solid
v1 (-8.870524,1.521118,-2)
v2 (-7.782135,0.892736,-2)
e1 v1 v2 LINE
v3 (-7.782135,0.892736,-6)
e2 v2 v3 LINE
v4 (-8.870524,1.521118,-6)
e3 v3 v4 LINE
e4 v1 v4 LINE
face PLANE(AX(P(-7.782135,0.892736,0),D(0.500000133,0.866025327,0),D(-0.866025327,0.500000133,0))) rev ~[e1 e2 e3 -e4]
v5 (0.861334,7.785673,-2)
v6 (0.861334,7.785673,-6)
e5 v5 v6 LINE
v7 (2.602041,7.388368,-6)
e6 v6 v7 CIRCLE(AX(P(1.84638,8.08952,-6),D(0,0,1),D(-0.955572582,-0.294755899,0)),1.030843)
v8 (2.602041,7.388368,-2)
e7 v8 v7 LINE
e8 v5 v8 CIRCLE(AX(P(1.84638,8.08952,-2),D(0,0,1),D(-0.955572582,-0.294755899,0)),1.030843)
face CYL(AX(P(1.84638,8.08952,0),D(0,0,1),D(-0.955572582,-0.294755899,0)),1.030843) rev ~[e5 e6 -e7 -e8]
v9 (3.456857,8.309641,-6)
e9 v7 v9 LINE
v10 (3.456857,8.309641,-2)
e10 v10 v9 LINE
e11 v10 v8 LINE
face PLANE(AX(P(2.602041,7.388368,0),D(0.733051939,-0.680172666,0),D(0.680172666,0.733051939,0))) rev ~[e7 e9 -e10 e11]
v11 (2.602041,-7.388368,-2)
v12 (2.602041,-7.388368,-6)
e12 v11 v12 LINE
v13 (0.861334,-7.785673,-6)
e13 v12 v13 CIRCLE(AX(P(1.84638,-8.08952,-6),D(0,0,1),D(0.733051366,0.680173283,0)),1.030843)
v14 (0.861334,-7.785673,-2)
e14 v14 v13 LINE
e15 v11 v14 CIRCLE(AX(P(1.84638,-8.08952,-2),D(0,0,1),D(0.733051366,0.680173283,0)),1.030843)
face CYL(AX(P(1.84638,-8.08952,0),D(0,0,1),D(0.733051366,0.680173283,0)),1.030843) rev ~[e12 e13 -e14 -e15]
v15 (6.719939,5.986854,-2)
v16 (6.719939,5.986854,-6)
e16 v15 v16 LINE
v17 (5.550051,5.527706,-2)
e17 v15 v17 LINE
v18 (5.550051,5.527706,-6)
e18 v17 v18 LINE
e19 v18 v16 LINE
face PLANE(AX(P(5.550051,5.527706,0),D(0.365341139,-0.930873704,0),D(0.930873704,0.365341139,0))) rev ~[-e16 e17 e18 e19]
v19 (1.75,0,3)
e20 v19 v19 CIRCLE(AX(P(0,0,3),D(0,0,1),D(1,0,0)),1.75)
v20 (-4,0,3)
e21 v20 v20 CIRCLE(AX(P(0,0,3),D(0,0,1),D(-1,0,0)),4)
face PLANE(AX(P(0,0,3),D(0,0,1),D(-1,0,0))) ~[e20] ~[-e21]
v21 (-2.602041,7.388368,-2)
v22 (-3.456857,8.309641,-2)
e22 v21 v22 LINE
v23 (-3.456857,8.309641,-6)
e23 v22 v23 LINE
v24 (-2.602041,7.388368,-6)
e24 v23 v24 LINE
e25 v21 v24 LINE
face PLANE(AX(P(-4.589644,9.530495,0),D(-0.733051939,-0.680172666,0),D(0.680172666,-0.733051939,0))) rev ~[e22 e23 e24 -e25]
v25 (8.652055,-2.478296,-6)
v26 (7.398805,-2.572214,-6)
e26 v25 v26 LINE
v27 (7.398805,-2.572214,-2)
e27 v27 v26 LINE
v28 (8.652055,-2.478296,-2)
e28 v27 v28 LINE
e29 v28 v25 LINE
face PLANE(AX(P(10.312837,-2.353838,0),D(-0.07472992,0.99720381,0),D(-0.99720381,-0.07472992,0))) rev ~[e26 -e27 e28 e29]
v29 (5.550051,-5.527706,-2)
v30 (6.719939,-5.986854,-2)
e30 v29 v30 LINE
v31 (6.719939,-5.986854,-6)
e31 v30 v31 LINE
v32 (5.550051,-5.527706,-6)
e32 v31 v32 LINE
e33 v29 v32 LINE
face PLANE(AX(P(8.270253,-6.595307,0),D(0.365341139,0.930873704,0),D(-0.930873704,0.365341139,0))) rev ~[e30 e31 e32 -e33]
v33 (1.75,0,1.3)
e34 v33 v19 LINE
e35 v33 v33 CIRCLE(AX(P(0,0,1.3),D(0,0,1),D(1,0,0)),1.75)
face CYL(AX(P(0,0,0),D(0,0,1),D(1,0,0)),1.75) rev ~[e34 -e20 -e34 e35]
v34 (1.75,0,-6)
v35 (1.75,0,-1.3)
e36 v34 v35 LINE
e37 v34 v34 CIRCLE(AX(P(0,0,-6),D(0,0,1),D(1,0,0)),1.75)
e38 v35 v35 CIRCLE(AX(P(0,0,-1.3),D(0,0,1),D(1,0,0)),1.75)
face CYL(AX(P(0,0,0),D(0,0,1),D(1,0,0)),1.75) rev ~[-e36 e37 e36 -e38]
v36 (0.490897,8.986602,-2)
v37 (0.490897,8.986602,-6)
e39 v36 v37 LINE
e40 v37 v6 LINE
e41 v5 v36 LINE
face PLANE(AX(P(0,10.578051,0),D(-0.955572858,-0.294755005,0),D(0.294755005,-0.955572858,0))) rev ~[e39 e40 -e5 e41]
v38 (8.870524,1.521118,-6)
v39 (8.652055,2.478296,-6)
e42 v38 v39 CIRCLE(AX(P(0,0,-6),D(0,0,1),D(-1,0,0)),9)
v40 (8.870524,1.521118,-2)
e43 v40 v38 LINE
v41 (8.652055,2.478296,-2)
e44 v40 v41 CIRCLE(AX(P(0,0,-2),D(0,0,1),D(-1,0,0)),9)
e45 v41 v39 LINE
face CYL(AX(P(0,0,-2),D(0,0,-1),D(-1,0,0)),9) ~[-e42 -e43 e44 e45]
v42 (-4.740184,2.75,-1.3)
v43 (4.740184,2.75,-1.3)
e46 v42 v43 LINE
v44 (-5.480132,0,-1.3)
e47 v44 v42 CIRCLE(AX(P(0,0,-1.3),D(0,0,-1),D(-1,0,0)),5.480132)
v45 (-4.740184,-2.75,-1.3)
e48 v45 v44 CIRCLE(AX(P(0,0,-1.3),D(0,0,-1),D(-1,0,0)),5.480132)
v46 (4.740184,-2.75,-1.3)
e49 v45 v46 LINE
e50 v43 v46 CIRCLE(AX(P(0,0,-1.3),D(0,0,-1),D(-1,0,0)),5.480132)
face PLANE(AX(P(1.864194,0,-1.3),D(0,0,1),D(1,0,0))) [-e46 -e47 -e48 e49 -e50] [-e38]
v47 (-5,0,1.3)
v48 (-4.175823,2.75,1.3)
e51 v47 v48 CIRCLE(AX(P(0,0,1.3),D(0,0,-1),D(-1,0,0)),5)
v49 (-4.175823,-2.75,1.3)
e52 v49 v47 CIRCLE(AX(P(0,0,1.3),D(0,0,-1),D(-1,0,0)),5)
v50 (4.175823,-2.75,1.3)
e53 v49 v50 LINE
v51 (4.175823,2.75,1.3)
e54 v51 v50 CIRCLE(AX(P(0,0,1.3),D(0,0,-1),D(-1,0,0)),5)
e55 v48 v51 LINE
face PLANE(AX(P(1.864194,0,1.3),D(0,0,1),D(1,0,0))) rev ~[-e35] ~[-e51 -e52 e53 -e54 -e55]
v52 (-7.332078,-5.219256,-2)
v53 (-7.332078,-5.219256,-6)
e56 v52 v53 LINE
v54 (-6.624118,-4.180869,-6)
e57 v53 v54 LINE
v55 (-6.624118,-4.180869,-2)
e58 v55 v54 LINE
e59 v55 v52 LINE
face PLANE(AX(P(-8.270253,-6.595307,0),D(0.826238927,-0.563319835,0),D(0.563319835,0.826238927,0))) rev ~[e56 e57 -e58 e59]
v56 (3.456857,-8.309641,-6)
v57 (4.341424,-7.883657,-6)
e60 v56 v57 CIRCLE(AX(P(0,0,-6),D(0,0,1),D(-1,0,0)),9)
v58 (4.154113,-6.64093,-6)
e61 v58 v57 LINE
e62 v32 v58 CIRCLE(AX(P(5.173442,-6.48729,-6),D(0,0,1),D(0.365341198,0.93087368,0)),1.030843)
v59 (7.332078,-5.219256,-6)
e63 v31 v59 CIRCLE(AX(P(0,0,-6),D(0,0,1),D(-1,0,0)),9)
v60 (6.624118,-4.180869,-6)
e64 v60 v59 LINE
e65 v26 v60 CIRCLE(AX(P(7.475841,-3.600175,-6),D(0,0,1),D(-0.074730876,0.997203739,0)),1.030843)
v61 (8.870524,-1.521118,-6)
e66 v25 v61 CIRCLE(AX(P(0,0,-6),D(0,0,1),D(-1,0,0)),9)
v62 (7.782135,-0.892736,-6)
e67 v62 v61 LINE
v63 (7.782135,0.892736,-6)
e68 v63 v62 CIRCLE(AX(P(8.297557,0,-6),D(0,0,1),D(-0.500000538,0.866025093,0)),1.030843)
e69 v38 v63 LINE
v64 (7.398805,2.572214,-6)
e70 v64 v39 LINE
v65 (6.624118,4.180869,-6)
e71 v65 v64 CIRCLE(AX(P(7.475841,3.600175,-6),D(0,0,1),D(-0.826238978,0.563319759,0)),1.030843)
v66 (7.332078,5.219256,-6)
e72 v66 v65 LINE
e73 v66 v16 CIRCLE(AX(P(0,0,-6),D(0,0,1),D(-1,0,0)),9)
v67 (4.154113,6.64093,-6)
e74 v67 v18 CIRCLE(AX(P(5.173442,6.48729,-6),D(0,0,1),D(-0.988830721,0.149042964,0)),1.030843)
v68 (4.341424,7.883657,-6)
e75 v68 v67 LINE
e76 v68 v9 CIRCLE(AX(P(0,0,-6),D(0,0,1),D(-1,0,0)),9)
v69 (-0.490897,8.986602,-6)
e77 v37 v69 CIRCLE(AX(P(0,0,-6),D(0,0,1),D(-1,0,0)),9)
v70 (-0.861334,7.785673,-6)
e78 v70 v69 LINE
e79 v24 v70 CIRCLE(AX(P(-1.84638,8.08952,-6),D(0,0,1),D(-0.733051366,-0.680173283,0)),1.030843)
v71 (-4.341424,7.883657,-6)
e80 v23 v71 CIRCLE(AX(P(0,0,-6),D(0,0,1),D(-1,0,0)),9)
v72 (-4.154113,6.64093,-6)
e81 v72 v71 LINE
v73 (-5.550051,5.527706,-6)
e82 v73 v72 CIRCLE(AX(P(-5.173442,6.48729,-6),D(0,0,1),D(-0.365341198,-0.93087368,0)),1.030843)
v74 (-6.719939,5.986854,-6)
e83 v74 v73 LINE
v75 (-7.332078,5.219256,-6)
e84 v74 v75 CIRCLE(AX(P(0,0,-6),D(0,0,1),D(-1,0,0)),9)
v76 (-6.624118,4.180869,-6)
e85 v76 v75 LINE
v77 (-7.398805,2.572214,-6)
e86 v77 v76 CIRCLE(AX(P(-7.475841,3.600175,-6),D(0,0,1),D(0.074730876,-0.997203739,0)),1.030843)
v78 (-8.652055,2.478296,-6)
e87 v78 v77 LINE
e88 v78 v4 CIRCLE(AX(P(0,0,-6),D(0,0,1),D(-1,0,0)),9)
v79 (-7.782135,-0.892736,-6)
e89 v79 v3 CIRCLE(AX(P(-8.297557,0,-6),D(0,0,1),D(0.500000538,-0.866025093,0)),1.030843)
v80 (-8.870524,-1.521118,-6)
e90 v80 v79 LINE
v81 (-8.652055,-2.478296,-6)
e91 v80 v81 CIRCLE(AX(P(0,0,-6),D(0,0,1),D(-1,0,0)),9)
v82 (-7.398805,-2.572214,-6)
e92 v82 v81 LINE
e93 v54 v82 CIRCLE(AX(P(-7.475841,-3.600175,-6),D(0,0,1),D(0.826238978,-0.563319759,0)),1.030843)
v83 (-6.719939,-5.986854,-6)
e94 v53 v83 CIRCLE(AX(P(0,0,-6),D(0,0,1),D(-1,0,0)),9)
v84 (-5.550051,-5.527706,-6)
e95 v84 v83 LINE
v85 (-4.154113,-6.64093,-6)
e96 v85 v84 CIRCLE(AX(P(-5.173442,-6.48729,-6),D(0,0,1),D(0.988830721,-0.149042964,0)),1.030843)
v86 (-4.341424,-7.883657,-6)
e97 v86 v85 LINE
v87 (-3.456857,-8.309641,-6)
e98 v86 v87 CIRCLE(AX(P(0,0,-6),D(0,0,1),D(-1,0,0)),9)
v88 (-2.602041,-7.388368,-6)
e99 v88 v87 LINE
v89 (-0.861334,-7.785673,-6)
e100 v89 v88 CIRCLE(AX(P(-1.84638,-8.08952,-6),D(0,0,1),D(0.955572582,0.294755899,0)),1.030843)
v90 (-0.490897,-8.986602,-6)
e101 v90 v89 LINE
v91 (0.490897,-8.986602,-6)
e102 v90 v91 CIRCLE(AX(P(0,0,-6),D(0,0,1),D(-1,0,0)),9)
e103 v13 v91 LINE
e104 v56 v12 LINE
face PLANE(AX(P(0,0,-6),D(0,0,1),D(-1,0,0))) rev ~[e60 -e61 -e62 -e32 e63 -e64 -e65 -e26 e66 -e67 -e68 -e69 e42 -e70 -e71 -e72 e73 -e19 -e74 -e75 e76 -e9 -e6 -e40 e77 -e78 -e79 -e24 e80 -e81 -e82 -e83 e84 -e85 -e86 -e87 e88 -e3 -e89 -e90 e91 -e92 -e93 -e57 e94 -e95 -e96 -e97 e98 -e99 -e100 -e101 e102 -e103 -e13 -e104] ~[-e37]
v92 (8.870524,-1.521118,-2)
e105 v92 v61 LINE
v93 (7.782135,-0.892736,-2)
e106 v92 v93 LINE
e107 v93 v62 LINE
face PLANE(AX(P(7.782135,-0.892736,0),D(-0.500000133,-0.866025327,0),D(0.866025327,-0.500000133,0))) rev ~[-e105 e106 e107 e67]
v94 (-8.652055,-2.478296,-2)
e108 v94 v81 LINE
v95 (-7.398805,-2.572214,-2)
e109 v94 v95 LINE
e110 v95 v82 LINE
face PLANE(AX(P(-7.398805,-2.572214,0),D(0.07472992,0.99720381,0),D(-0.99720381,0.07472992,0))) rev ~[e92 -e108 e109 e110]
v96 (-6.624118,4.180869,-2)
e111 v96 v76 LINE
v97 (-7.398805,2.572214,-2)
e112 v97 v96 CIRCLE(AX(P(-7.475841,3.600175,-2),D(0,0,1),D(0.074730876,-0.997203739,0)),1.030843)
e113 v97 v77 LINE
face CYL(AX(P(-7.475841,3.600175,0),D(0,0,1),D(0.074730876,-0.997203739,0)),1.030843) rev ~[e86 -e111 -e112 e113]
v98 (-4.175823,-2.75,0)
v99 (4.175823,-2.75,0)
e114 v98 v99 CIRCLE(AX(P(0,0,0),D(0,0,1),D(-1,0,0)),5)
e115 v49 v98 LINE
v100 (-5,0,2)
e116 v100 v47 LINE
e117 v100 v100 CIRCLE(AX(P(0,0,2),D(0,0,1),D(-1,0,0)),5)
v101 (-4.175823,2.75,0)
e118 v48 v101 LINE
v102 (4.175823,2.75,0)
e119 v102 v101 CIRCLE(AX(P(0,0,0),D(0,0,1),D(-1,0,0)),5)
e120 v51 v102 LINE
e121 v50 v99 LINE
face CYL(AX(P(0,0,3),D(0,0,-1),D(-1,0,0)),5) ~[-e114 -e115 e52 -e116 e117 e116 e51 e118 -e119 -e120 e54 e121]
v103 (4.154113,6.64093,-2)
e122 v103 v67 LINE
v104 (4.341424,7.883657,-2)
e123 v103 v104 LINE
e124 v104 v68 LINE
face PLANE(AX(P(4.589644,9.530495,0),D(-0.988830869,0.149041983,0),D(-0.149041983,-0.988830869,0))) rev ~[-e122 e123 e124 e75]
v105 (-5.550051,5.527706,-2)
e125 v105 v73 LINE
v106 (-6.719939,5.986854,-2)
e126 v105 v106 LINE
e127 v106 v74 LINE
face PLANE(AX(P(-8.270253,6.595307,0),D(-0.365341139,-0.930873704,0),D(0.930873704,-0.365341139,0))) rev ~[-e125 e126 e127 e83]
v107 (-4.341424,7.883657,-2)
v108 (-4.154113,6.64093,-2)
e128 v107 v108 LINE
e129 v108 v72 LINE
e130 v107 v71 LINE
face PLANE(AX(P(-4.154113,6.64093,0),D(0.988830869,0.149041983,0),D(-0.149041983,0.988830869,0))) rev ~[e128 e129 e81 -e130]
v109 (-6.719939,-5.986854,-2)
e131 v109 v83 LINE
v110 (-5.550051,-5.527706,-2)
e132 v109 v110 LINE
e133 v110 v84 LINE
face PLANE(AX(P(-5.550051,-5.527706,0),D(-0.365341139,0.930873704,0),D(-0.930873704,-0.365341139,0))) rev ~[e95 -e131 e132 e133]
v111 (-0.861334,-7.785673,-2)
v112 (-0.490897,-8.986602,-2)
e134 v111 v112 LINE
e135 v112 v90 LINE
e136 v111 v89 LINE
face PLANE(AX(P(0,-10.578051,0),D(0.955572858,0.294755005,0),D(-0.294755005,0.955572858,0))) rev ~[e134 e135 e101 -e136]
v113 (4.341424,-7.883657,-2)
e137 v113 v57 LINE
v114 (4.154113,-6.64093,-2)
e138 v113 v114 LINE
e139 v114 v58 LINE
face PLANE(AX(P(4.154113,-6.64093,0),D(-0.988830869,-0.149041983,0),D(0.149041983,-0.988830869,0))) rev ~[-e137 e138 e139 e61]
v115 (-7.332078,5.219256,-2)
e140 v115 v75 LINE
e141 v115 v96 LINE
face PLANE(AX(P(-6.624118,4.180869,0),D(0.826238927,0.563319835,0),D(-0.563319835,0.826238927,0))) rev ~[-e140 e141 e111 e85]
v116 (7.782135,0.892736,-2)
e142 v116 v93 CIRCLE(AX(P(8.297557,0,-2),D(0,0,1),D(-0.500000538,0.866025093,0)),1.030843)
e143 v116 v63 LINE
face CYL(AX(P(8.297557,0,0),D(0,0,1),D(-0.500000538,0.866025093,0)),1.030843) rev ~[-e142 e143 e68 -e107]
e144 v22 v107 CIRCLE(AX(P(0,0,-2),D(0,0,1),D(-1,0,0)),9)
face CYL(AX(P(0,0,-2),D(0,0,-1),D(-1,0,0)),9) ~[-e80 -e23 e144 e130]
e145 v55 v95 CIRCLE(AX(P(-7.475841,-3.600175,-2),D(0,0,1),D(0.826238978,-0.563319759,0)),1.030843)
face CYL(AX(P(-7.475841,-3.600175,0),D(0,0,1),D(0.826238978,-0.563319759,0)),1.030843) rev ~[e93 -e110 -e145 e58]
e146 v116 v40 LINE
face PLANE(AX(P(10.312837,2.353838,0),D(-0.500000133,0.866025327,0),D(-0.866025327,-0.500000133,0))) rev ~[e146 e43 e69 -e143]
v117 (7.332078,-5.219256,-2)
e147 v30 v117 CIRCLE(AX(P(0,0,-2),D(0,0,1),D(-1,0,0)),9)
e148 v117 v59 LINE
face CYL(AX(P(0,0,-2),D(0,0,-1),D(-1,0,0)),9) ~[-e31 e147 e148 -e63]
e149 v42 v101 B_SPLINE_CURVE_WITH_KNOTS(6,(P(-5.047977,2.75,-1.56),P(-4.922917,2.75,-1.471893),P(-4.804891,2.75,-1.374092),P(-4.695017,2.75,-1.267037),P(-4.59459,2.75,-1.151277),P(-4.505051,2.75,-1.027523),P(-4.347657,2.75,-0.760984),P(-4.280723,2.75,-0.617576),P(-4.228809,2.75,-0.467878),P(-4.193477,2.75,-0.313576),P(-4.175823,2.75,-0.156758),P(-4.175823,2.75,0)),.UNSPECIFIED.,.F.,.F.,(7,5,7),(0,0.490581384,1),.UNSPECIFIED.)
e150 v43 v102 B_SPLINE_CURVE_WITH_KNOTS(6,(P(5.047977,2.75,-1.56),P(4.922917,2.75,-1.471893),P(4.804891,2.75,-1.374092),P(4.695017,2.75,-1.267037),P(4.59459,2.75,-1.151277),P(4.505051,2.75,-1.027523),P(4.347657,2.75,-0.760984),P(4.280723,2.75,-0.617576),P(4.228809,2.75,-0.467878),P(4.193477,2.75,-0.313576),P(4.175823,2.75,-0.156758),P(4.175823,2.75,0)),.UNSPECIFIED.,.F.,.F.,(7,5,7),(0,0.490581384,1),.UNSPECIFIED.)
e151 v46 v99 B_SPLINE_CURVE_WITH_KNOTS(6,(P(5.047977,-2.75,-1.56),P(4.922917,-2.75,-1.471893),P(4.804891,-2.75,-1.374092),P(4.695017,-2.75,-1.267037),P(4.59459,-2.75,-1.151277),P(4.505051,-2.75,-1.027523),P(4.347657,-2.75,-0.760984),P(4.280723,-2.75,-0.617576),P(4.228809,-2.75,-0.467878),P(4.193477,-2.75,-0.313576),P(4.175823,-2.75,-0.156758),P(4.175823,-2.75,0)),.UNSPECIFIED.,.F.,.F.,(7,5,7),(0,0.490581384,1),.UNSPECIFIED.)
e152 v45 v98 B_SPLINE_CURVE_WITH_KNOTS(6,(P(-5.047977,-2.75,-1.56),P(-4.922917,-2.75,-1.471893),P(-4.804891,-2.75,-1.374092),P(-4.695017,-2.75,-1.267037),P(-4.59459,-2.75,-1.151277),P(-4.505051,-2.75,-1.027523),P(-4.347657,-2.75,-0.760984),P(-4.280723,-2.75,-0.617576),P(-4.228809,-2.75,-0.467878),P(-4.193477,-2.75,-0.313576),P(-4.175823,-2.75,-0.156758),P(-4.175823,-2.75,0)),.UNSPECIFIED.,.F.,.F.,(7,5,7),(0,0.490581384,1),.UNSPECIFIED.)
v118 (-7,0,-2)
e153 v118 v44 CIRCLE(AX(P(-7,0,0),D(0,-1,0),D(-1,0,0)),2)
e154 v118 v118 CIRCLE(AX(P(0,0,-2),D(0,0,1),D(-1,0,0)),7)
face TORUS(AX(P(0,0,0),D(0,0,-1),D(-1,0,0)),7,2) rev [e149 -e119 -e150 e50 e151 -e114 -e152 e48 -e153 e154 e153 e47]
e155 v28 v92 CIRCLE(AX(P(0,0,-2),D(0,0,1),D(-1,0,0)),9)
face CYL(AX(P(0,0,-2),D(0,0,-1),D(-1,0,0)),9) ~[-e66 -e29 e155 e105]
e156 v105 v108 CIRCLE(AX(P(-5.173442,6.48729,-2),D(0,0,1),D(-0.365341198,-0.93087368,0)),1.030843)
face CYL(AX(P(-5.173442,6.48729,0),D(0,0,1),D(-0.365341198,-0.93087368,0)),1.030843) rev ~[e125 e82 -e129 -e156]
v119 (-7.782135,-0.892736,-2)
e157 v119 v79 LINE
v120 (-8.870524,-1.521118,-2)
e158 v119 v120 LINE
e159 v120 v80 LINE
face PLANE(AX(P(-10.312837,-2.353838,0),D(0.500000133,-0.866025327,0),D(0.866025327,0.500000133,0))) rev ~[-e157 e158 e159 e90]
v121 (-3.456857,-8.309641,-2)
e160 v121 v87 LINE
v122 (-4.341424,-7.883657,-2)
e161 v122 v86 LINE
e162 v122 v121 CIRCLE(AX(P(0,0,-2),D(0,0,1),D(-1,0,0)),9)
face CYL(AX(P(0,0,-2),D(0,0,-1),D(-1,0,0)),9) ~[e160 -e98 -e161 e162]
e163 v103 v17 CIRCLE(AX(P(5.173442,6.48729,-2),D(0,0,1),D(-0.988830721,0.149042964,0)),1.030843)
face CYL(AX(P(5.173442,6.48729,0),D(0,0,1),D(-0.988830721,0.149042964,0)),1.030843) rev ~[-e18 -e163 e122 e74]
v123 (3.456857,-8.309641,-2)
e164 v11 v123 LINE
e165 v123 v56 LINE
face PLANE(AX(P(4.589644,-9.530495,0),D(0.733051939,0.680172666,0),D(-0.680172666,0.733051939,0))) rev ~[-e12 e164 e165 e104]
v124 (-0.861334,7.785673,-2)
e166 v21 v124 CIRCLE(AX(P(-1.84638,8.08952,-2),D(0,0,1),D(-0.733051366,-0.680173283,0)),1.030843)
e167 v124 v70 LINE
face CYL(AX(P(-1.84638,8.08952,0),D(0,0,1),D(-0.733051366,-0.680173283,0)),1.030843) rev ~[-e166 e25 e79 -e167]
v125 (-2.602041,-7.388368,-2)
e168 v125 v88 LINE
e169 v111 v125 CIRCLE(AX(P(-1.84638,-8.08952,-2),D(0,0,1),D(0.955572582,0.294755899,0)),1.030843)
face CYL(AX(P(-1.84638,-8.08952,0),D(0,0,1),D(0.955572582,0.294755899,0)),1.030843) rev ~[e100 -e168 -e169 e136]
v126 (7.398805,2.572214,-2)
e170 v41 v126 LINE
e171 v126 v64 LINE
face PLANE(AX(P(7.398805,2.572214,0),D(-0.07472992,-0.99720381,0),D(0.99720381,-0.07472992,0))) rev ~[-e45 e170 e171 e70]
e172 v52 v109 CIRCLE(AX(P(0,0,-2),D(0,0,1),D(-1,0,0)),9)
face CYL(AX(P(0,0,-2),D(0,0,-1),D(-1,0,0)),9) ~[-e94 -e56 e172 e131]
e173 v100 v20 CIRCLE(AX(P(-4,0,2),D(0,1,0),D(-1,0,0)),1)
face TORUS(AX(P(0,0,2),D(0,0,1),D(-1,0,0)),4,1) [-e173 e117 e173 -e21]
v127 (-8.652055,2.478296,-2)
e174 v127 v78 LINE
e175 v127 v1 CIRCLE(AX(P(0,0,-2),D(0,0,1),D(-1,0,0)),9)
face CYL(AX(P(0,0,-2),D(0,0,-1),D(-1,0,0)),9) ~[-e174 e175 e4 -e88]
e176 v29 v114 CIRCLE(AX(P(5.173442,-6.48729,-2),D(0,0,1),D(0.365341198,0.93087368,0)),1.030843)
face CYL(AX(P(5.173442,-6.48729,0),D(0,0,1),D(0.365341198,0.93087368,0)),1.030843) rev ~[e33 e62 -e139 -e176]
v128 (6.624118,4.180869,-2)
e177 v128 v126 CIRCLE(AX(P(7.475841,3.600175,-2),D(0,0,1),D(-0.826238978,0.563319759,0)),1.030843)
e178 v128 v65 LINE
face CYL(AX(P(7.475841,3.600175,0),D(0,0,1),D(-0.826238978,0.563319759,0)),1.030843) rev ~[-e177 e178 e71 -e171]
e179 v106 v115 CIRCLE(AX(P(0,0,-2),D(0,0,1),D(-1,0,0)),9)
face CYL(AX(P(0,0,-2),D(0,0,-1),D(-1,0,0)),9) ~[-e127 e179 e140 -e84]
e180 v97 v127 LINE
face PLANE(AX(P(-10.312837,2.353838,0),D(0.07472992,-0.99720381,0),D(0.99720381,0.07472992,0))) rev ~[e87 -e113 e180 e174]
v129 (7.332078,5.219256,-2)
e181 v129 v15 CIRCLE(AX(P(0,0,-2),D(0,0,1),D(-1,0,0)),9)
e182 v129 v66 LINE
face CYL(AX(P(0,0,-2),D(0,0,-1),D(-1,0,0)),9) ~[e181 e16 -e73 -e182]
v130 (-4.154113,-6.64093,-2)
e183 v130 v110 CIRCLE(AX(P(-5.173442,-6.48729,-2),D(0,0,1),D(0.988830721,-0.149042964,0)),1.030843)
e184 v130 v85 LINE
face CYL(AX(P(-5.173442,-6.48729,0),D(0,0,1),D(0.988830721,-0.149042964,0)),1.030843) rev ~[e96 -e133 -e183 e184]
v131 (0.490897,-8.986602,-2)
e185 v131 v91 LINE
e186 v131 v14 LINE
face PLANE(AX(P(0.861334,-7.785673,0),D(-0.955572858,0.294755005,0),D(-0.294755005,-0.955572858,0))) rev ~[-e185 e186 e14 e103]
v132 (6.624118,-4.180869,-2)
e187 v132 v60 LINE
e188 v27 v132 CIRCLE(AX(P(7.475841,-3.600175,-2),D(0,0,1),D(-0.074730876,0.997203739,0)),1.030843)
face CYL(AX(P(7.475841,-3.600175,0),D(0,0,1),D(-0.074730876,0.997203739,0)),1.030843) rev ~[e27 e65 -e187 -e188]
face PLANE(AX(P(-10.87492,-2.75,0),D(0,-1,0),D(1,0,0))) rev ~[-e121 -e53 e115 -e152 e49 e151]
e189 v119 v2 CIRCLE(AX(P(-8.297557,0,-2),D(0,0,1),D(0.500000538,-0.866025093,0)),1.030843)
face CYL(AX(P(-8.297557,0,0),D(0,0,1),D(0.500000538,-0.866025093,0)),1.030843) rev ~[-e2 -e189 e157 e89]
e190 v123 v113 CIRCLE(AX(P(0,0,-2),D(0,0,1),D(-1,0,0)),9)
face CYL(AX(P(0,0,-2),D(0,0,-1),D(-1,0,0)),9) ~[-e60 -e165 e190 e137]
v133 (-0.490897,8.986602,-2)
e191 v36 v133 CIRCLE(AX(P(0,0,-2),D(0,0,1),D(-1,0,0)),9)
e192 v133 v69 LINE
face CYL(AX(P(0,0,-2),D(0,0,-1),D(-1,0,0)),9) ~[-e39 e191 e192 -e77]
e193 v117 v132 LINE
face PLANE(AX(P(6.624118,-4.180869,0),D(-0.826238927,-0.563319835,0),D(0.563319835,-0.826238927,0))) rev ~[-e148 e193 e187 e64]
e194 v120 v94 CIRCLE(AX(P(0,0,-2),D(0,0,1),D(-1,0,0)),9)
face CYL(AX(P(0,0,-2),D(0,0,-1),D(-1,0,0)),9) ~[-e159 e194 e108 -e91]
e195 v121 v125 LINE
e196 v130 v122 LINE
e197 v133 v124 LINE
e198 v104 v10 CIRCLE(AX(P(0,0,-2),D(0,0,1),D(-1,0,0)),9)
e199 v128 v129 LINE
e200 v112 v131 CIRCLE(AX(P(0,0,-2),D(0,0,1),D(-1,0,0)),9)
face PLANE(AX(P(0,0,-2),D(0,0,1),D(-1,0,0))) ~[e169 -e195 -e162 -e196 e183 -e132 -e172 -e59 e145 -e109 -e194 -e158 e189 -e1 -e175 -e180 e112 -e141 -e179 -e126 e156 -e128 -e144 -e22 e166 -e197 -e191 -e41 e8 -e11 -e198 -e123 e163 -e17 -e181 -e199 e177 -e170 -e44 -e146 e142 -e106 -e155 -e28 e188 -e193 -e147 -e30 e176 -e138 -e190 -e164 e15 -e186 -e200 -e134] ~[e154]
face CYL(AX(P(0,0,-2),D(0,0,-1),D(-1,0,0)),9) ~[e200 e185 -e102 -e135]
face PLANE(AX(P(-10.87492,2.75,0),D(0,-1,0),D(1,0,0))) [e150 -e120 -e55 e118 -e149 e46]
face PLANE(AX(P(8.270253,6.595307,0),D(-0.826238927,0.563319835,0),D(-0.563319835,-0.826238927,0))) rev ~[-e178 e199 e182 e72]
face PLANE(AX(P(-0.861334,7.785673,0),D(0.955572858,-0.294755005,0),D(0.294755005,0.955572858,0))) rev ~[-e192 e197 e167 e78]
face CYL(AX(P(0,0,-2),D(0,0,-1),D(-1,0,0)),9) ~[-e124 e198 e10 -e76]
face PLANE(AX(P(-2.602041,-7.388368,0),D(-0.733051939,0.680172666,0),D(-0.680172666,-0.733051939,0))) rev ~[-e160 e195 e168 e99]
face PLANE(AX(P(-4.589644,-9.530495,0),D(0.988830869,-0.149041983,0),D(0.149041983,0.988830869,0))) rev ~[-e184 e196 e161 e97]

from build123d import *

# Parameters (mm, degrees)
F3_R     = 1.75
F4_DEPTH = 12.5
F6_R     = 2
F8_DEPTH = 10
F2_W     = 25.478227
F2_H     = 5.5
F9_DEPTH = 1.3
F10_R    = 1


with BuildPart() as f1:
    # F0 (on Front) → F1 (revolve)
    with BuildSketch(Plane.XZ):
        Polygon((-9, -6), (0, -6), (0, 3), (-5, 3), (-5, -2), (-9, -2), align=None)
    revolve(axis=Axis((0, 0, -1.5), (0, 0, 1)))


with BuildPart() as f4:
    # F3 (on Top) → F4 (new body, symmetric)
    with BuildSketch(Plane.XY):
        Circle(F3_R)
    extrude(amount=F4_DEPTH, both=True)


with BuildPart() as f1_1:
    add(f1.part)

    # F5: cut F4
    add(f4.part, mode=Mode.SUBTRACT)

    # F6
    f6_edges = [f1_1.edges().sort_by_distance(p)[0] for p in [
        (5, 0, -2),
    ]]
    fillet(f6_edges, radius=F6_R)

    # F7 (on Top) → F8 (cut)
    with BuildSketch(Plane.XY):
        with BuildLine():
            ThreePointArc((-7.782135, -0.892736), (-7.266714, 0), (-7.782135, 0.892736))
            Line((-7.782135, 0.892736), (-10.312837, 2.353838))
            Line((-10.312837, 2.353838), (-10.499112, 2.339878))
            Line((-10.499112, 2.339878), (-10.499112, -2.339878))
            Line((-10.499112, -2.339878), (-10.312837, -2.353838))
            Line((-10.312837, -2.353838), (-7.782135, -0.892736))
        make_face()
        with BuildLine():
            Line((-10.474608, 2.447236), (-10.312837, 2.353838))
            Line((-10.312837, 2.353838), (-7.398805, 2.572214))
            ThreePointArc((-7.398805, 2.572214), (-6.547083, 3.152909), (-6.624118, 4.180869))
            Line((-6.624118, 4.180869), (-8.270253, 6.595307))
            Line((-8.270253, 6.595307), (-8.444138, 6.663552))
            Line((-8.444138, 6.663552), (-10.474608, 2.447236))
        make_face()
        Polygon((-10.499112, 2.396354), (-10.474608, 2.447236), (-10.499112, 2.461384), align=None)
        Polygon((-10.527328, 2.337764), (-10.499112, 2.339878), (-10.499112, 2.396354), align=None)
        with BuildLine():
            Line((-7.398805, -2.572214), (-10.312837, -2.353838))
            Line((-10.312837, -2.353838), (-10.474608, -2.447236))
            Line((-10.474608, -2.447236), (-8.444138, -6.663552))
            Line((-8.444138, -6.663552), (-8.270253, -6.595307))
            Line((-8.270253, -6.595307), (-6.624118, -4.180869))
            ThreePointArc((-6.624118, -4.180869), (-6.547083, -3.152909), (-7.398805, -2.572214))
        make_face()
        Polygon((-8.470477, 6.673889), (-8.444138, 6.663552), (-8.419634, 6.714434), align=None)
        Polygon((-10.499112, -2.396354), (-10.499112, -2.339878), (-10.527328, -2.337764), align=None)
        Polygon((-10.499112, -2.461384), (-10.474608, -2.447236), (-10.499112, -2.396354), align=None)
        with BuildLine():
            Line((-8.37548, 6.749646), (-8.270253, 6.595307))
            Line((-8.270253, 6.595307), (-5.550051, 5.527706))
            ThreePointArc((-5.550051, 5.527706), (-4.530722, 5.681345), (-4.154113, 6.64093))
            Line((-4.154113, 6.64093), (-4.589644, 9.530495))
            Line((-4.589644, 9.530495), (-4.716699, 9.667427))
            Line((-4.716699, 9.667427), (-8.37548, 6.749646))
        make_face()
        Polygon((-8.391419, 6.773024), (-8.419634, 6.714434), (-8.37548, 6.749646), align=None)
        Polygon((-8.419634, -6.714434), (-8.444138, -6.663552), (-8.470477, -6.673889), align=None)
        Polygon((-8.37548, -6.749646), (-8.419634, -6.714434), (-8.391419, -6.773024), align=None)
        with BuildLine():
            Line((-5.550051, -5.527706), (-8.270253, -6.595307))
            Line((-8.270253, -6.595307), (-8.37548, -6.749646))
            Line((-8.37548, -6.749646), (-4.716699, -9.667427))
            Line((-4.716699, -9.667427), (-4.589644, -9.530495))
            Line((-4.589644, -9.530495), (-4.154113, -6.64093))
            ThreePointArc((-4.154113, -6.64093), (-4.530722, -5.681345), (-5.550051, -5.527706))
        make_face()
        Polygon((-4.735944, 9.688168), (-4.716699, 9.667427), (-4.672544, 9.702639), align=None)
        with BuildLine():
            Line((-4.617485, 9.715206), (-4.589644, 9.530495))
            Line((-4.589644, 9.530495), (-2.602041, 7.388368))
            ThreePointArc((-2.602041, 7.388368), (-1.616996, 7.084522), (-0.861334, 7.785673))
            Line((-0.861334, 7.785673), (0, 10.578051))
            Line((0, 10.578051), (-0.055059, 10.756549))
            Line((-0.055059, 10.756549), (-4.617485, 9.715206))
        make_face()
        Polygon((-4.621702, 9.743184), (-4.672544, 9.702639), (-4.617485, 9.715206), align=None)
        Polygon((-4.672544, -9.702639), (-4.716699, -9.667427), (-4.735944, -9.688168), align=None)
        Polygon((-4.617485, -9.715206), (-4.672544, -9.702639), (-4.621702, -9.743184), align=None)
        with BuildLine():
            Line((-2.602041, -7.388368), (-4.589644, -9.530495))
            Line((-4.589644, -9.530495), (-4.617485, -9.715206))
            Line((-4.617485, -9.715206), (-0.055059, -10.756549))
            Line((-0.055059, -10.756549), (0, -10.578051))
            Line((0, -10.578051), (-0.861334, -7.785673))
            ThreePointArc((-0.861334, -7.785673), (-1.616996, -7.084522), (-2.602041, -7.388368))
        make_face()
        Polygon((-0.063399, 10.783587), (-0.055059, 10.756549), (0, 10.769116), align=None)
        with BuildLine():
            Line((0.055059, 10.756549), (0, 10.578051))
            Line((0, 10.578051), (0.861334, 7.785673))
            ThreePointArc((0.861334, 7.785673), (1.616996, 7.084522), (2.602041, 7.388368))
            Line((2.602041, 7.388368), (4.589644, 9.530495))
            Line((4.589644, 9.530495), (4.617485, 9.715206))
            Line((4.617485, 9.715206), (0.055059, 10.756549))
        make_face()
        Polygon((0.063399, 10.783587), (0, 10.769116), (0.055059, 10.756549), align=None)
        Polygon((0, -10.769116), (-0.055059, -10.756549), (-0.063399, -10.783587), align=None)
        Polygon((0.055059, -10.756549), (0, -10.769116), (0.063399, -10.783587), align=None)
        with BuildLine():
            Line((0.861334, -7.785673), (0, -10.578051))
            Line((0, -10.578051), (0.055059, -10.756549))
            Line((0.055059, -10.756549), (4.617485, -9.715206))
            Line((4.617485, -9.715206), (4.589644, -9.530495))
            Line((4.589644, -9.530495), (2.602041, -7.388368))
            ThreePointArc((2.602041, -7.388368), (1.616996, -7.084522), (0.861334, -7.785673))
        make_face()
        Polygon((4.621702, 9.743184), (4.617485, 9.715206), (4.672544, 9.702639), align=None)
        with BuildLine():
            Line((4.716699, 9.667427), (4.589644, 9.530495))
            Line((4.589644, 9.530495), (4.154113, 6.64093))
            ThreePointArc((4.154113, 6.64093), (4.530722, 5.681345), (5.550051, 5.527706))
            Line((5.550051, 5.527706), (8.270253, 6.595307))
            Line((8.270253, 6.595307), (8.37548, 6.749646))
            Line((8.37548, 6.749646), (4.716699, 9.667427))
        make_face()
        Polygon((4.735944, 9.688168), (4.672544, 9.702639), (4.716699, 9.667427), align=None)
        Polygon((4.672544, -9.702639), (4.617485, -9.715206), (4.621702, -9.743184), align=None)
        Polygon((4.716699, -9.667427), (4.672544, -9.702639), (4.735944, -9.688168), align=None)
        with BuildLine():
            Line((4.154113, -6.64093), (4.589644, -9.530495))
            Line((4.589644, -9.530495), (4.716699, -9.667427))
            Line((4.716699, -9.667427), (8.37548, -6.749646))
            Line((8.37548, -6.749646), (8.270253, -6.595307))
            Line((8.270253, -6.595307), (5.550051, -5.527706))
            ThreePointArc((5.550051, -5.527706), (4.530722, -5.681345), (4.154113, -6.64093))
        make_face()
        Polygon((8.391419, 6.773024), (8.37548, 6.749646), (8.419634, 6.714434), align=None)
        with BuildLine():
            Line((8.444138, 6.663552), (8.270253, 6.595307))
            Line((8.270253, 6.595307), (6.624118, 4.180869))
            ThreePointArc((6.624118, 4.180869), (6.547083, 3.152909), (7.398805, 2.572214))
            Line((7.398805, 2.572214), (10.312837, 2.353838))
            Line((10.312837, 2.353838), (10.474608, 2.447236))
            Line((10.474608, 2.447236), (8.444138, 6.663552))
        make_face()
        Polygon((8.470477, 6.673889), (8.419634, 6.714434), (8.444138, 6.663552), align=None)
        Polygon((8.419634, -6.714434), (8.37548, -6.749646), (8.391419, -6.773024), align=None)
        Polygon((8.444138, -6.663552), (8.419634, -6.714434), (8.470477, -6.673889), align=None)
        with BuildLine():
            Line((6.624118, -4.180869), (8.270253, -6.595307))
            Line((8.270253, -6.595307), (8.444138, -6.663552))
            Line((8.444138, -6.663552), (10.474608, -2.447236))
            Line((10.474608, -2.447236), (10.312837, -2.353838))
            Line((10.312837, -2.353838), (7.398805, -2.572214))
            ThreePointArc((7.398805, -2.572214), (6.547083, -3.152909), (6.624118, -4.180869))
        make_face()
        Polygon((10.499112, 2.461384), (10.474608, 2.447236), (10.499112, 2.396354), align=None)
        with BuildLine():
            Line((10.499112, 2.339878), (10.312837, 2.353838))
            Line((10.312837, 2.353838), (7.782135, 0.892736))
            ThreePointArc((7.782135, 0.892736), (7.266714, 0), (7.782135, -0.892736))
            Line((7.782135, -0.892736), (10.312837, -2.353838))
            Line((10.312837, -2.353838), (10.499112, -2.339878))
            Line((10.499112, -2.339878), (10.499112, 2.339878))
        make_face()
        Polygon((10.527328, 2.337764), (10.499112, 2.396354), (10.499112, 2.339878), align=None)
        Polygon((10.499112, -2.396354), (10.474608, -2.447236), (10.499112, -2.461384), align=None)
        Polygon((10.499112, -2.339878), (10.499112, -2.396354), (10.527328, -2.337764), align=None)
    extrude(amount=-F8_DEPTH, mode=Mode.SUBTRACT)

    # F2 (on Top) → F9 (cut, symmetric)
    with BuildSketch(Plane.XY):
        with Locations((1.864194, 0)):
            Rectangle(F2_W, F2_H)
    extrude(amount=F9_DEPTH, both=True, mode=Mode.SUBTRACT)

    # F10
    f10_edges = [f1_1.edges().sort_by_distance(p)[0] for p in [
        (5, 0, 3),
    ]]
    fillet(f10_edges, radius=F10_R)


solid = f1_1.part
